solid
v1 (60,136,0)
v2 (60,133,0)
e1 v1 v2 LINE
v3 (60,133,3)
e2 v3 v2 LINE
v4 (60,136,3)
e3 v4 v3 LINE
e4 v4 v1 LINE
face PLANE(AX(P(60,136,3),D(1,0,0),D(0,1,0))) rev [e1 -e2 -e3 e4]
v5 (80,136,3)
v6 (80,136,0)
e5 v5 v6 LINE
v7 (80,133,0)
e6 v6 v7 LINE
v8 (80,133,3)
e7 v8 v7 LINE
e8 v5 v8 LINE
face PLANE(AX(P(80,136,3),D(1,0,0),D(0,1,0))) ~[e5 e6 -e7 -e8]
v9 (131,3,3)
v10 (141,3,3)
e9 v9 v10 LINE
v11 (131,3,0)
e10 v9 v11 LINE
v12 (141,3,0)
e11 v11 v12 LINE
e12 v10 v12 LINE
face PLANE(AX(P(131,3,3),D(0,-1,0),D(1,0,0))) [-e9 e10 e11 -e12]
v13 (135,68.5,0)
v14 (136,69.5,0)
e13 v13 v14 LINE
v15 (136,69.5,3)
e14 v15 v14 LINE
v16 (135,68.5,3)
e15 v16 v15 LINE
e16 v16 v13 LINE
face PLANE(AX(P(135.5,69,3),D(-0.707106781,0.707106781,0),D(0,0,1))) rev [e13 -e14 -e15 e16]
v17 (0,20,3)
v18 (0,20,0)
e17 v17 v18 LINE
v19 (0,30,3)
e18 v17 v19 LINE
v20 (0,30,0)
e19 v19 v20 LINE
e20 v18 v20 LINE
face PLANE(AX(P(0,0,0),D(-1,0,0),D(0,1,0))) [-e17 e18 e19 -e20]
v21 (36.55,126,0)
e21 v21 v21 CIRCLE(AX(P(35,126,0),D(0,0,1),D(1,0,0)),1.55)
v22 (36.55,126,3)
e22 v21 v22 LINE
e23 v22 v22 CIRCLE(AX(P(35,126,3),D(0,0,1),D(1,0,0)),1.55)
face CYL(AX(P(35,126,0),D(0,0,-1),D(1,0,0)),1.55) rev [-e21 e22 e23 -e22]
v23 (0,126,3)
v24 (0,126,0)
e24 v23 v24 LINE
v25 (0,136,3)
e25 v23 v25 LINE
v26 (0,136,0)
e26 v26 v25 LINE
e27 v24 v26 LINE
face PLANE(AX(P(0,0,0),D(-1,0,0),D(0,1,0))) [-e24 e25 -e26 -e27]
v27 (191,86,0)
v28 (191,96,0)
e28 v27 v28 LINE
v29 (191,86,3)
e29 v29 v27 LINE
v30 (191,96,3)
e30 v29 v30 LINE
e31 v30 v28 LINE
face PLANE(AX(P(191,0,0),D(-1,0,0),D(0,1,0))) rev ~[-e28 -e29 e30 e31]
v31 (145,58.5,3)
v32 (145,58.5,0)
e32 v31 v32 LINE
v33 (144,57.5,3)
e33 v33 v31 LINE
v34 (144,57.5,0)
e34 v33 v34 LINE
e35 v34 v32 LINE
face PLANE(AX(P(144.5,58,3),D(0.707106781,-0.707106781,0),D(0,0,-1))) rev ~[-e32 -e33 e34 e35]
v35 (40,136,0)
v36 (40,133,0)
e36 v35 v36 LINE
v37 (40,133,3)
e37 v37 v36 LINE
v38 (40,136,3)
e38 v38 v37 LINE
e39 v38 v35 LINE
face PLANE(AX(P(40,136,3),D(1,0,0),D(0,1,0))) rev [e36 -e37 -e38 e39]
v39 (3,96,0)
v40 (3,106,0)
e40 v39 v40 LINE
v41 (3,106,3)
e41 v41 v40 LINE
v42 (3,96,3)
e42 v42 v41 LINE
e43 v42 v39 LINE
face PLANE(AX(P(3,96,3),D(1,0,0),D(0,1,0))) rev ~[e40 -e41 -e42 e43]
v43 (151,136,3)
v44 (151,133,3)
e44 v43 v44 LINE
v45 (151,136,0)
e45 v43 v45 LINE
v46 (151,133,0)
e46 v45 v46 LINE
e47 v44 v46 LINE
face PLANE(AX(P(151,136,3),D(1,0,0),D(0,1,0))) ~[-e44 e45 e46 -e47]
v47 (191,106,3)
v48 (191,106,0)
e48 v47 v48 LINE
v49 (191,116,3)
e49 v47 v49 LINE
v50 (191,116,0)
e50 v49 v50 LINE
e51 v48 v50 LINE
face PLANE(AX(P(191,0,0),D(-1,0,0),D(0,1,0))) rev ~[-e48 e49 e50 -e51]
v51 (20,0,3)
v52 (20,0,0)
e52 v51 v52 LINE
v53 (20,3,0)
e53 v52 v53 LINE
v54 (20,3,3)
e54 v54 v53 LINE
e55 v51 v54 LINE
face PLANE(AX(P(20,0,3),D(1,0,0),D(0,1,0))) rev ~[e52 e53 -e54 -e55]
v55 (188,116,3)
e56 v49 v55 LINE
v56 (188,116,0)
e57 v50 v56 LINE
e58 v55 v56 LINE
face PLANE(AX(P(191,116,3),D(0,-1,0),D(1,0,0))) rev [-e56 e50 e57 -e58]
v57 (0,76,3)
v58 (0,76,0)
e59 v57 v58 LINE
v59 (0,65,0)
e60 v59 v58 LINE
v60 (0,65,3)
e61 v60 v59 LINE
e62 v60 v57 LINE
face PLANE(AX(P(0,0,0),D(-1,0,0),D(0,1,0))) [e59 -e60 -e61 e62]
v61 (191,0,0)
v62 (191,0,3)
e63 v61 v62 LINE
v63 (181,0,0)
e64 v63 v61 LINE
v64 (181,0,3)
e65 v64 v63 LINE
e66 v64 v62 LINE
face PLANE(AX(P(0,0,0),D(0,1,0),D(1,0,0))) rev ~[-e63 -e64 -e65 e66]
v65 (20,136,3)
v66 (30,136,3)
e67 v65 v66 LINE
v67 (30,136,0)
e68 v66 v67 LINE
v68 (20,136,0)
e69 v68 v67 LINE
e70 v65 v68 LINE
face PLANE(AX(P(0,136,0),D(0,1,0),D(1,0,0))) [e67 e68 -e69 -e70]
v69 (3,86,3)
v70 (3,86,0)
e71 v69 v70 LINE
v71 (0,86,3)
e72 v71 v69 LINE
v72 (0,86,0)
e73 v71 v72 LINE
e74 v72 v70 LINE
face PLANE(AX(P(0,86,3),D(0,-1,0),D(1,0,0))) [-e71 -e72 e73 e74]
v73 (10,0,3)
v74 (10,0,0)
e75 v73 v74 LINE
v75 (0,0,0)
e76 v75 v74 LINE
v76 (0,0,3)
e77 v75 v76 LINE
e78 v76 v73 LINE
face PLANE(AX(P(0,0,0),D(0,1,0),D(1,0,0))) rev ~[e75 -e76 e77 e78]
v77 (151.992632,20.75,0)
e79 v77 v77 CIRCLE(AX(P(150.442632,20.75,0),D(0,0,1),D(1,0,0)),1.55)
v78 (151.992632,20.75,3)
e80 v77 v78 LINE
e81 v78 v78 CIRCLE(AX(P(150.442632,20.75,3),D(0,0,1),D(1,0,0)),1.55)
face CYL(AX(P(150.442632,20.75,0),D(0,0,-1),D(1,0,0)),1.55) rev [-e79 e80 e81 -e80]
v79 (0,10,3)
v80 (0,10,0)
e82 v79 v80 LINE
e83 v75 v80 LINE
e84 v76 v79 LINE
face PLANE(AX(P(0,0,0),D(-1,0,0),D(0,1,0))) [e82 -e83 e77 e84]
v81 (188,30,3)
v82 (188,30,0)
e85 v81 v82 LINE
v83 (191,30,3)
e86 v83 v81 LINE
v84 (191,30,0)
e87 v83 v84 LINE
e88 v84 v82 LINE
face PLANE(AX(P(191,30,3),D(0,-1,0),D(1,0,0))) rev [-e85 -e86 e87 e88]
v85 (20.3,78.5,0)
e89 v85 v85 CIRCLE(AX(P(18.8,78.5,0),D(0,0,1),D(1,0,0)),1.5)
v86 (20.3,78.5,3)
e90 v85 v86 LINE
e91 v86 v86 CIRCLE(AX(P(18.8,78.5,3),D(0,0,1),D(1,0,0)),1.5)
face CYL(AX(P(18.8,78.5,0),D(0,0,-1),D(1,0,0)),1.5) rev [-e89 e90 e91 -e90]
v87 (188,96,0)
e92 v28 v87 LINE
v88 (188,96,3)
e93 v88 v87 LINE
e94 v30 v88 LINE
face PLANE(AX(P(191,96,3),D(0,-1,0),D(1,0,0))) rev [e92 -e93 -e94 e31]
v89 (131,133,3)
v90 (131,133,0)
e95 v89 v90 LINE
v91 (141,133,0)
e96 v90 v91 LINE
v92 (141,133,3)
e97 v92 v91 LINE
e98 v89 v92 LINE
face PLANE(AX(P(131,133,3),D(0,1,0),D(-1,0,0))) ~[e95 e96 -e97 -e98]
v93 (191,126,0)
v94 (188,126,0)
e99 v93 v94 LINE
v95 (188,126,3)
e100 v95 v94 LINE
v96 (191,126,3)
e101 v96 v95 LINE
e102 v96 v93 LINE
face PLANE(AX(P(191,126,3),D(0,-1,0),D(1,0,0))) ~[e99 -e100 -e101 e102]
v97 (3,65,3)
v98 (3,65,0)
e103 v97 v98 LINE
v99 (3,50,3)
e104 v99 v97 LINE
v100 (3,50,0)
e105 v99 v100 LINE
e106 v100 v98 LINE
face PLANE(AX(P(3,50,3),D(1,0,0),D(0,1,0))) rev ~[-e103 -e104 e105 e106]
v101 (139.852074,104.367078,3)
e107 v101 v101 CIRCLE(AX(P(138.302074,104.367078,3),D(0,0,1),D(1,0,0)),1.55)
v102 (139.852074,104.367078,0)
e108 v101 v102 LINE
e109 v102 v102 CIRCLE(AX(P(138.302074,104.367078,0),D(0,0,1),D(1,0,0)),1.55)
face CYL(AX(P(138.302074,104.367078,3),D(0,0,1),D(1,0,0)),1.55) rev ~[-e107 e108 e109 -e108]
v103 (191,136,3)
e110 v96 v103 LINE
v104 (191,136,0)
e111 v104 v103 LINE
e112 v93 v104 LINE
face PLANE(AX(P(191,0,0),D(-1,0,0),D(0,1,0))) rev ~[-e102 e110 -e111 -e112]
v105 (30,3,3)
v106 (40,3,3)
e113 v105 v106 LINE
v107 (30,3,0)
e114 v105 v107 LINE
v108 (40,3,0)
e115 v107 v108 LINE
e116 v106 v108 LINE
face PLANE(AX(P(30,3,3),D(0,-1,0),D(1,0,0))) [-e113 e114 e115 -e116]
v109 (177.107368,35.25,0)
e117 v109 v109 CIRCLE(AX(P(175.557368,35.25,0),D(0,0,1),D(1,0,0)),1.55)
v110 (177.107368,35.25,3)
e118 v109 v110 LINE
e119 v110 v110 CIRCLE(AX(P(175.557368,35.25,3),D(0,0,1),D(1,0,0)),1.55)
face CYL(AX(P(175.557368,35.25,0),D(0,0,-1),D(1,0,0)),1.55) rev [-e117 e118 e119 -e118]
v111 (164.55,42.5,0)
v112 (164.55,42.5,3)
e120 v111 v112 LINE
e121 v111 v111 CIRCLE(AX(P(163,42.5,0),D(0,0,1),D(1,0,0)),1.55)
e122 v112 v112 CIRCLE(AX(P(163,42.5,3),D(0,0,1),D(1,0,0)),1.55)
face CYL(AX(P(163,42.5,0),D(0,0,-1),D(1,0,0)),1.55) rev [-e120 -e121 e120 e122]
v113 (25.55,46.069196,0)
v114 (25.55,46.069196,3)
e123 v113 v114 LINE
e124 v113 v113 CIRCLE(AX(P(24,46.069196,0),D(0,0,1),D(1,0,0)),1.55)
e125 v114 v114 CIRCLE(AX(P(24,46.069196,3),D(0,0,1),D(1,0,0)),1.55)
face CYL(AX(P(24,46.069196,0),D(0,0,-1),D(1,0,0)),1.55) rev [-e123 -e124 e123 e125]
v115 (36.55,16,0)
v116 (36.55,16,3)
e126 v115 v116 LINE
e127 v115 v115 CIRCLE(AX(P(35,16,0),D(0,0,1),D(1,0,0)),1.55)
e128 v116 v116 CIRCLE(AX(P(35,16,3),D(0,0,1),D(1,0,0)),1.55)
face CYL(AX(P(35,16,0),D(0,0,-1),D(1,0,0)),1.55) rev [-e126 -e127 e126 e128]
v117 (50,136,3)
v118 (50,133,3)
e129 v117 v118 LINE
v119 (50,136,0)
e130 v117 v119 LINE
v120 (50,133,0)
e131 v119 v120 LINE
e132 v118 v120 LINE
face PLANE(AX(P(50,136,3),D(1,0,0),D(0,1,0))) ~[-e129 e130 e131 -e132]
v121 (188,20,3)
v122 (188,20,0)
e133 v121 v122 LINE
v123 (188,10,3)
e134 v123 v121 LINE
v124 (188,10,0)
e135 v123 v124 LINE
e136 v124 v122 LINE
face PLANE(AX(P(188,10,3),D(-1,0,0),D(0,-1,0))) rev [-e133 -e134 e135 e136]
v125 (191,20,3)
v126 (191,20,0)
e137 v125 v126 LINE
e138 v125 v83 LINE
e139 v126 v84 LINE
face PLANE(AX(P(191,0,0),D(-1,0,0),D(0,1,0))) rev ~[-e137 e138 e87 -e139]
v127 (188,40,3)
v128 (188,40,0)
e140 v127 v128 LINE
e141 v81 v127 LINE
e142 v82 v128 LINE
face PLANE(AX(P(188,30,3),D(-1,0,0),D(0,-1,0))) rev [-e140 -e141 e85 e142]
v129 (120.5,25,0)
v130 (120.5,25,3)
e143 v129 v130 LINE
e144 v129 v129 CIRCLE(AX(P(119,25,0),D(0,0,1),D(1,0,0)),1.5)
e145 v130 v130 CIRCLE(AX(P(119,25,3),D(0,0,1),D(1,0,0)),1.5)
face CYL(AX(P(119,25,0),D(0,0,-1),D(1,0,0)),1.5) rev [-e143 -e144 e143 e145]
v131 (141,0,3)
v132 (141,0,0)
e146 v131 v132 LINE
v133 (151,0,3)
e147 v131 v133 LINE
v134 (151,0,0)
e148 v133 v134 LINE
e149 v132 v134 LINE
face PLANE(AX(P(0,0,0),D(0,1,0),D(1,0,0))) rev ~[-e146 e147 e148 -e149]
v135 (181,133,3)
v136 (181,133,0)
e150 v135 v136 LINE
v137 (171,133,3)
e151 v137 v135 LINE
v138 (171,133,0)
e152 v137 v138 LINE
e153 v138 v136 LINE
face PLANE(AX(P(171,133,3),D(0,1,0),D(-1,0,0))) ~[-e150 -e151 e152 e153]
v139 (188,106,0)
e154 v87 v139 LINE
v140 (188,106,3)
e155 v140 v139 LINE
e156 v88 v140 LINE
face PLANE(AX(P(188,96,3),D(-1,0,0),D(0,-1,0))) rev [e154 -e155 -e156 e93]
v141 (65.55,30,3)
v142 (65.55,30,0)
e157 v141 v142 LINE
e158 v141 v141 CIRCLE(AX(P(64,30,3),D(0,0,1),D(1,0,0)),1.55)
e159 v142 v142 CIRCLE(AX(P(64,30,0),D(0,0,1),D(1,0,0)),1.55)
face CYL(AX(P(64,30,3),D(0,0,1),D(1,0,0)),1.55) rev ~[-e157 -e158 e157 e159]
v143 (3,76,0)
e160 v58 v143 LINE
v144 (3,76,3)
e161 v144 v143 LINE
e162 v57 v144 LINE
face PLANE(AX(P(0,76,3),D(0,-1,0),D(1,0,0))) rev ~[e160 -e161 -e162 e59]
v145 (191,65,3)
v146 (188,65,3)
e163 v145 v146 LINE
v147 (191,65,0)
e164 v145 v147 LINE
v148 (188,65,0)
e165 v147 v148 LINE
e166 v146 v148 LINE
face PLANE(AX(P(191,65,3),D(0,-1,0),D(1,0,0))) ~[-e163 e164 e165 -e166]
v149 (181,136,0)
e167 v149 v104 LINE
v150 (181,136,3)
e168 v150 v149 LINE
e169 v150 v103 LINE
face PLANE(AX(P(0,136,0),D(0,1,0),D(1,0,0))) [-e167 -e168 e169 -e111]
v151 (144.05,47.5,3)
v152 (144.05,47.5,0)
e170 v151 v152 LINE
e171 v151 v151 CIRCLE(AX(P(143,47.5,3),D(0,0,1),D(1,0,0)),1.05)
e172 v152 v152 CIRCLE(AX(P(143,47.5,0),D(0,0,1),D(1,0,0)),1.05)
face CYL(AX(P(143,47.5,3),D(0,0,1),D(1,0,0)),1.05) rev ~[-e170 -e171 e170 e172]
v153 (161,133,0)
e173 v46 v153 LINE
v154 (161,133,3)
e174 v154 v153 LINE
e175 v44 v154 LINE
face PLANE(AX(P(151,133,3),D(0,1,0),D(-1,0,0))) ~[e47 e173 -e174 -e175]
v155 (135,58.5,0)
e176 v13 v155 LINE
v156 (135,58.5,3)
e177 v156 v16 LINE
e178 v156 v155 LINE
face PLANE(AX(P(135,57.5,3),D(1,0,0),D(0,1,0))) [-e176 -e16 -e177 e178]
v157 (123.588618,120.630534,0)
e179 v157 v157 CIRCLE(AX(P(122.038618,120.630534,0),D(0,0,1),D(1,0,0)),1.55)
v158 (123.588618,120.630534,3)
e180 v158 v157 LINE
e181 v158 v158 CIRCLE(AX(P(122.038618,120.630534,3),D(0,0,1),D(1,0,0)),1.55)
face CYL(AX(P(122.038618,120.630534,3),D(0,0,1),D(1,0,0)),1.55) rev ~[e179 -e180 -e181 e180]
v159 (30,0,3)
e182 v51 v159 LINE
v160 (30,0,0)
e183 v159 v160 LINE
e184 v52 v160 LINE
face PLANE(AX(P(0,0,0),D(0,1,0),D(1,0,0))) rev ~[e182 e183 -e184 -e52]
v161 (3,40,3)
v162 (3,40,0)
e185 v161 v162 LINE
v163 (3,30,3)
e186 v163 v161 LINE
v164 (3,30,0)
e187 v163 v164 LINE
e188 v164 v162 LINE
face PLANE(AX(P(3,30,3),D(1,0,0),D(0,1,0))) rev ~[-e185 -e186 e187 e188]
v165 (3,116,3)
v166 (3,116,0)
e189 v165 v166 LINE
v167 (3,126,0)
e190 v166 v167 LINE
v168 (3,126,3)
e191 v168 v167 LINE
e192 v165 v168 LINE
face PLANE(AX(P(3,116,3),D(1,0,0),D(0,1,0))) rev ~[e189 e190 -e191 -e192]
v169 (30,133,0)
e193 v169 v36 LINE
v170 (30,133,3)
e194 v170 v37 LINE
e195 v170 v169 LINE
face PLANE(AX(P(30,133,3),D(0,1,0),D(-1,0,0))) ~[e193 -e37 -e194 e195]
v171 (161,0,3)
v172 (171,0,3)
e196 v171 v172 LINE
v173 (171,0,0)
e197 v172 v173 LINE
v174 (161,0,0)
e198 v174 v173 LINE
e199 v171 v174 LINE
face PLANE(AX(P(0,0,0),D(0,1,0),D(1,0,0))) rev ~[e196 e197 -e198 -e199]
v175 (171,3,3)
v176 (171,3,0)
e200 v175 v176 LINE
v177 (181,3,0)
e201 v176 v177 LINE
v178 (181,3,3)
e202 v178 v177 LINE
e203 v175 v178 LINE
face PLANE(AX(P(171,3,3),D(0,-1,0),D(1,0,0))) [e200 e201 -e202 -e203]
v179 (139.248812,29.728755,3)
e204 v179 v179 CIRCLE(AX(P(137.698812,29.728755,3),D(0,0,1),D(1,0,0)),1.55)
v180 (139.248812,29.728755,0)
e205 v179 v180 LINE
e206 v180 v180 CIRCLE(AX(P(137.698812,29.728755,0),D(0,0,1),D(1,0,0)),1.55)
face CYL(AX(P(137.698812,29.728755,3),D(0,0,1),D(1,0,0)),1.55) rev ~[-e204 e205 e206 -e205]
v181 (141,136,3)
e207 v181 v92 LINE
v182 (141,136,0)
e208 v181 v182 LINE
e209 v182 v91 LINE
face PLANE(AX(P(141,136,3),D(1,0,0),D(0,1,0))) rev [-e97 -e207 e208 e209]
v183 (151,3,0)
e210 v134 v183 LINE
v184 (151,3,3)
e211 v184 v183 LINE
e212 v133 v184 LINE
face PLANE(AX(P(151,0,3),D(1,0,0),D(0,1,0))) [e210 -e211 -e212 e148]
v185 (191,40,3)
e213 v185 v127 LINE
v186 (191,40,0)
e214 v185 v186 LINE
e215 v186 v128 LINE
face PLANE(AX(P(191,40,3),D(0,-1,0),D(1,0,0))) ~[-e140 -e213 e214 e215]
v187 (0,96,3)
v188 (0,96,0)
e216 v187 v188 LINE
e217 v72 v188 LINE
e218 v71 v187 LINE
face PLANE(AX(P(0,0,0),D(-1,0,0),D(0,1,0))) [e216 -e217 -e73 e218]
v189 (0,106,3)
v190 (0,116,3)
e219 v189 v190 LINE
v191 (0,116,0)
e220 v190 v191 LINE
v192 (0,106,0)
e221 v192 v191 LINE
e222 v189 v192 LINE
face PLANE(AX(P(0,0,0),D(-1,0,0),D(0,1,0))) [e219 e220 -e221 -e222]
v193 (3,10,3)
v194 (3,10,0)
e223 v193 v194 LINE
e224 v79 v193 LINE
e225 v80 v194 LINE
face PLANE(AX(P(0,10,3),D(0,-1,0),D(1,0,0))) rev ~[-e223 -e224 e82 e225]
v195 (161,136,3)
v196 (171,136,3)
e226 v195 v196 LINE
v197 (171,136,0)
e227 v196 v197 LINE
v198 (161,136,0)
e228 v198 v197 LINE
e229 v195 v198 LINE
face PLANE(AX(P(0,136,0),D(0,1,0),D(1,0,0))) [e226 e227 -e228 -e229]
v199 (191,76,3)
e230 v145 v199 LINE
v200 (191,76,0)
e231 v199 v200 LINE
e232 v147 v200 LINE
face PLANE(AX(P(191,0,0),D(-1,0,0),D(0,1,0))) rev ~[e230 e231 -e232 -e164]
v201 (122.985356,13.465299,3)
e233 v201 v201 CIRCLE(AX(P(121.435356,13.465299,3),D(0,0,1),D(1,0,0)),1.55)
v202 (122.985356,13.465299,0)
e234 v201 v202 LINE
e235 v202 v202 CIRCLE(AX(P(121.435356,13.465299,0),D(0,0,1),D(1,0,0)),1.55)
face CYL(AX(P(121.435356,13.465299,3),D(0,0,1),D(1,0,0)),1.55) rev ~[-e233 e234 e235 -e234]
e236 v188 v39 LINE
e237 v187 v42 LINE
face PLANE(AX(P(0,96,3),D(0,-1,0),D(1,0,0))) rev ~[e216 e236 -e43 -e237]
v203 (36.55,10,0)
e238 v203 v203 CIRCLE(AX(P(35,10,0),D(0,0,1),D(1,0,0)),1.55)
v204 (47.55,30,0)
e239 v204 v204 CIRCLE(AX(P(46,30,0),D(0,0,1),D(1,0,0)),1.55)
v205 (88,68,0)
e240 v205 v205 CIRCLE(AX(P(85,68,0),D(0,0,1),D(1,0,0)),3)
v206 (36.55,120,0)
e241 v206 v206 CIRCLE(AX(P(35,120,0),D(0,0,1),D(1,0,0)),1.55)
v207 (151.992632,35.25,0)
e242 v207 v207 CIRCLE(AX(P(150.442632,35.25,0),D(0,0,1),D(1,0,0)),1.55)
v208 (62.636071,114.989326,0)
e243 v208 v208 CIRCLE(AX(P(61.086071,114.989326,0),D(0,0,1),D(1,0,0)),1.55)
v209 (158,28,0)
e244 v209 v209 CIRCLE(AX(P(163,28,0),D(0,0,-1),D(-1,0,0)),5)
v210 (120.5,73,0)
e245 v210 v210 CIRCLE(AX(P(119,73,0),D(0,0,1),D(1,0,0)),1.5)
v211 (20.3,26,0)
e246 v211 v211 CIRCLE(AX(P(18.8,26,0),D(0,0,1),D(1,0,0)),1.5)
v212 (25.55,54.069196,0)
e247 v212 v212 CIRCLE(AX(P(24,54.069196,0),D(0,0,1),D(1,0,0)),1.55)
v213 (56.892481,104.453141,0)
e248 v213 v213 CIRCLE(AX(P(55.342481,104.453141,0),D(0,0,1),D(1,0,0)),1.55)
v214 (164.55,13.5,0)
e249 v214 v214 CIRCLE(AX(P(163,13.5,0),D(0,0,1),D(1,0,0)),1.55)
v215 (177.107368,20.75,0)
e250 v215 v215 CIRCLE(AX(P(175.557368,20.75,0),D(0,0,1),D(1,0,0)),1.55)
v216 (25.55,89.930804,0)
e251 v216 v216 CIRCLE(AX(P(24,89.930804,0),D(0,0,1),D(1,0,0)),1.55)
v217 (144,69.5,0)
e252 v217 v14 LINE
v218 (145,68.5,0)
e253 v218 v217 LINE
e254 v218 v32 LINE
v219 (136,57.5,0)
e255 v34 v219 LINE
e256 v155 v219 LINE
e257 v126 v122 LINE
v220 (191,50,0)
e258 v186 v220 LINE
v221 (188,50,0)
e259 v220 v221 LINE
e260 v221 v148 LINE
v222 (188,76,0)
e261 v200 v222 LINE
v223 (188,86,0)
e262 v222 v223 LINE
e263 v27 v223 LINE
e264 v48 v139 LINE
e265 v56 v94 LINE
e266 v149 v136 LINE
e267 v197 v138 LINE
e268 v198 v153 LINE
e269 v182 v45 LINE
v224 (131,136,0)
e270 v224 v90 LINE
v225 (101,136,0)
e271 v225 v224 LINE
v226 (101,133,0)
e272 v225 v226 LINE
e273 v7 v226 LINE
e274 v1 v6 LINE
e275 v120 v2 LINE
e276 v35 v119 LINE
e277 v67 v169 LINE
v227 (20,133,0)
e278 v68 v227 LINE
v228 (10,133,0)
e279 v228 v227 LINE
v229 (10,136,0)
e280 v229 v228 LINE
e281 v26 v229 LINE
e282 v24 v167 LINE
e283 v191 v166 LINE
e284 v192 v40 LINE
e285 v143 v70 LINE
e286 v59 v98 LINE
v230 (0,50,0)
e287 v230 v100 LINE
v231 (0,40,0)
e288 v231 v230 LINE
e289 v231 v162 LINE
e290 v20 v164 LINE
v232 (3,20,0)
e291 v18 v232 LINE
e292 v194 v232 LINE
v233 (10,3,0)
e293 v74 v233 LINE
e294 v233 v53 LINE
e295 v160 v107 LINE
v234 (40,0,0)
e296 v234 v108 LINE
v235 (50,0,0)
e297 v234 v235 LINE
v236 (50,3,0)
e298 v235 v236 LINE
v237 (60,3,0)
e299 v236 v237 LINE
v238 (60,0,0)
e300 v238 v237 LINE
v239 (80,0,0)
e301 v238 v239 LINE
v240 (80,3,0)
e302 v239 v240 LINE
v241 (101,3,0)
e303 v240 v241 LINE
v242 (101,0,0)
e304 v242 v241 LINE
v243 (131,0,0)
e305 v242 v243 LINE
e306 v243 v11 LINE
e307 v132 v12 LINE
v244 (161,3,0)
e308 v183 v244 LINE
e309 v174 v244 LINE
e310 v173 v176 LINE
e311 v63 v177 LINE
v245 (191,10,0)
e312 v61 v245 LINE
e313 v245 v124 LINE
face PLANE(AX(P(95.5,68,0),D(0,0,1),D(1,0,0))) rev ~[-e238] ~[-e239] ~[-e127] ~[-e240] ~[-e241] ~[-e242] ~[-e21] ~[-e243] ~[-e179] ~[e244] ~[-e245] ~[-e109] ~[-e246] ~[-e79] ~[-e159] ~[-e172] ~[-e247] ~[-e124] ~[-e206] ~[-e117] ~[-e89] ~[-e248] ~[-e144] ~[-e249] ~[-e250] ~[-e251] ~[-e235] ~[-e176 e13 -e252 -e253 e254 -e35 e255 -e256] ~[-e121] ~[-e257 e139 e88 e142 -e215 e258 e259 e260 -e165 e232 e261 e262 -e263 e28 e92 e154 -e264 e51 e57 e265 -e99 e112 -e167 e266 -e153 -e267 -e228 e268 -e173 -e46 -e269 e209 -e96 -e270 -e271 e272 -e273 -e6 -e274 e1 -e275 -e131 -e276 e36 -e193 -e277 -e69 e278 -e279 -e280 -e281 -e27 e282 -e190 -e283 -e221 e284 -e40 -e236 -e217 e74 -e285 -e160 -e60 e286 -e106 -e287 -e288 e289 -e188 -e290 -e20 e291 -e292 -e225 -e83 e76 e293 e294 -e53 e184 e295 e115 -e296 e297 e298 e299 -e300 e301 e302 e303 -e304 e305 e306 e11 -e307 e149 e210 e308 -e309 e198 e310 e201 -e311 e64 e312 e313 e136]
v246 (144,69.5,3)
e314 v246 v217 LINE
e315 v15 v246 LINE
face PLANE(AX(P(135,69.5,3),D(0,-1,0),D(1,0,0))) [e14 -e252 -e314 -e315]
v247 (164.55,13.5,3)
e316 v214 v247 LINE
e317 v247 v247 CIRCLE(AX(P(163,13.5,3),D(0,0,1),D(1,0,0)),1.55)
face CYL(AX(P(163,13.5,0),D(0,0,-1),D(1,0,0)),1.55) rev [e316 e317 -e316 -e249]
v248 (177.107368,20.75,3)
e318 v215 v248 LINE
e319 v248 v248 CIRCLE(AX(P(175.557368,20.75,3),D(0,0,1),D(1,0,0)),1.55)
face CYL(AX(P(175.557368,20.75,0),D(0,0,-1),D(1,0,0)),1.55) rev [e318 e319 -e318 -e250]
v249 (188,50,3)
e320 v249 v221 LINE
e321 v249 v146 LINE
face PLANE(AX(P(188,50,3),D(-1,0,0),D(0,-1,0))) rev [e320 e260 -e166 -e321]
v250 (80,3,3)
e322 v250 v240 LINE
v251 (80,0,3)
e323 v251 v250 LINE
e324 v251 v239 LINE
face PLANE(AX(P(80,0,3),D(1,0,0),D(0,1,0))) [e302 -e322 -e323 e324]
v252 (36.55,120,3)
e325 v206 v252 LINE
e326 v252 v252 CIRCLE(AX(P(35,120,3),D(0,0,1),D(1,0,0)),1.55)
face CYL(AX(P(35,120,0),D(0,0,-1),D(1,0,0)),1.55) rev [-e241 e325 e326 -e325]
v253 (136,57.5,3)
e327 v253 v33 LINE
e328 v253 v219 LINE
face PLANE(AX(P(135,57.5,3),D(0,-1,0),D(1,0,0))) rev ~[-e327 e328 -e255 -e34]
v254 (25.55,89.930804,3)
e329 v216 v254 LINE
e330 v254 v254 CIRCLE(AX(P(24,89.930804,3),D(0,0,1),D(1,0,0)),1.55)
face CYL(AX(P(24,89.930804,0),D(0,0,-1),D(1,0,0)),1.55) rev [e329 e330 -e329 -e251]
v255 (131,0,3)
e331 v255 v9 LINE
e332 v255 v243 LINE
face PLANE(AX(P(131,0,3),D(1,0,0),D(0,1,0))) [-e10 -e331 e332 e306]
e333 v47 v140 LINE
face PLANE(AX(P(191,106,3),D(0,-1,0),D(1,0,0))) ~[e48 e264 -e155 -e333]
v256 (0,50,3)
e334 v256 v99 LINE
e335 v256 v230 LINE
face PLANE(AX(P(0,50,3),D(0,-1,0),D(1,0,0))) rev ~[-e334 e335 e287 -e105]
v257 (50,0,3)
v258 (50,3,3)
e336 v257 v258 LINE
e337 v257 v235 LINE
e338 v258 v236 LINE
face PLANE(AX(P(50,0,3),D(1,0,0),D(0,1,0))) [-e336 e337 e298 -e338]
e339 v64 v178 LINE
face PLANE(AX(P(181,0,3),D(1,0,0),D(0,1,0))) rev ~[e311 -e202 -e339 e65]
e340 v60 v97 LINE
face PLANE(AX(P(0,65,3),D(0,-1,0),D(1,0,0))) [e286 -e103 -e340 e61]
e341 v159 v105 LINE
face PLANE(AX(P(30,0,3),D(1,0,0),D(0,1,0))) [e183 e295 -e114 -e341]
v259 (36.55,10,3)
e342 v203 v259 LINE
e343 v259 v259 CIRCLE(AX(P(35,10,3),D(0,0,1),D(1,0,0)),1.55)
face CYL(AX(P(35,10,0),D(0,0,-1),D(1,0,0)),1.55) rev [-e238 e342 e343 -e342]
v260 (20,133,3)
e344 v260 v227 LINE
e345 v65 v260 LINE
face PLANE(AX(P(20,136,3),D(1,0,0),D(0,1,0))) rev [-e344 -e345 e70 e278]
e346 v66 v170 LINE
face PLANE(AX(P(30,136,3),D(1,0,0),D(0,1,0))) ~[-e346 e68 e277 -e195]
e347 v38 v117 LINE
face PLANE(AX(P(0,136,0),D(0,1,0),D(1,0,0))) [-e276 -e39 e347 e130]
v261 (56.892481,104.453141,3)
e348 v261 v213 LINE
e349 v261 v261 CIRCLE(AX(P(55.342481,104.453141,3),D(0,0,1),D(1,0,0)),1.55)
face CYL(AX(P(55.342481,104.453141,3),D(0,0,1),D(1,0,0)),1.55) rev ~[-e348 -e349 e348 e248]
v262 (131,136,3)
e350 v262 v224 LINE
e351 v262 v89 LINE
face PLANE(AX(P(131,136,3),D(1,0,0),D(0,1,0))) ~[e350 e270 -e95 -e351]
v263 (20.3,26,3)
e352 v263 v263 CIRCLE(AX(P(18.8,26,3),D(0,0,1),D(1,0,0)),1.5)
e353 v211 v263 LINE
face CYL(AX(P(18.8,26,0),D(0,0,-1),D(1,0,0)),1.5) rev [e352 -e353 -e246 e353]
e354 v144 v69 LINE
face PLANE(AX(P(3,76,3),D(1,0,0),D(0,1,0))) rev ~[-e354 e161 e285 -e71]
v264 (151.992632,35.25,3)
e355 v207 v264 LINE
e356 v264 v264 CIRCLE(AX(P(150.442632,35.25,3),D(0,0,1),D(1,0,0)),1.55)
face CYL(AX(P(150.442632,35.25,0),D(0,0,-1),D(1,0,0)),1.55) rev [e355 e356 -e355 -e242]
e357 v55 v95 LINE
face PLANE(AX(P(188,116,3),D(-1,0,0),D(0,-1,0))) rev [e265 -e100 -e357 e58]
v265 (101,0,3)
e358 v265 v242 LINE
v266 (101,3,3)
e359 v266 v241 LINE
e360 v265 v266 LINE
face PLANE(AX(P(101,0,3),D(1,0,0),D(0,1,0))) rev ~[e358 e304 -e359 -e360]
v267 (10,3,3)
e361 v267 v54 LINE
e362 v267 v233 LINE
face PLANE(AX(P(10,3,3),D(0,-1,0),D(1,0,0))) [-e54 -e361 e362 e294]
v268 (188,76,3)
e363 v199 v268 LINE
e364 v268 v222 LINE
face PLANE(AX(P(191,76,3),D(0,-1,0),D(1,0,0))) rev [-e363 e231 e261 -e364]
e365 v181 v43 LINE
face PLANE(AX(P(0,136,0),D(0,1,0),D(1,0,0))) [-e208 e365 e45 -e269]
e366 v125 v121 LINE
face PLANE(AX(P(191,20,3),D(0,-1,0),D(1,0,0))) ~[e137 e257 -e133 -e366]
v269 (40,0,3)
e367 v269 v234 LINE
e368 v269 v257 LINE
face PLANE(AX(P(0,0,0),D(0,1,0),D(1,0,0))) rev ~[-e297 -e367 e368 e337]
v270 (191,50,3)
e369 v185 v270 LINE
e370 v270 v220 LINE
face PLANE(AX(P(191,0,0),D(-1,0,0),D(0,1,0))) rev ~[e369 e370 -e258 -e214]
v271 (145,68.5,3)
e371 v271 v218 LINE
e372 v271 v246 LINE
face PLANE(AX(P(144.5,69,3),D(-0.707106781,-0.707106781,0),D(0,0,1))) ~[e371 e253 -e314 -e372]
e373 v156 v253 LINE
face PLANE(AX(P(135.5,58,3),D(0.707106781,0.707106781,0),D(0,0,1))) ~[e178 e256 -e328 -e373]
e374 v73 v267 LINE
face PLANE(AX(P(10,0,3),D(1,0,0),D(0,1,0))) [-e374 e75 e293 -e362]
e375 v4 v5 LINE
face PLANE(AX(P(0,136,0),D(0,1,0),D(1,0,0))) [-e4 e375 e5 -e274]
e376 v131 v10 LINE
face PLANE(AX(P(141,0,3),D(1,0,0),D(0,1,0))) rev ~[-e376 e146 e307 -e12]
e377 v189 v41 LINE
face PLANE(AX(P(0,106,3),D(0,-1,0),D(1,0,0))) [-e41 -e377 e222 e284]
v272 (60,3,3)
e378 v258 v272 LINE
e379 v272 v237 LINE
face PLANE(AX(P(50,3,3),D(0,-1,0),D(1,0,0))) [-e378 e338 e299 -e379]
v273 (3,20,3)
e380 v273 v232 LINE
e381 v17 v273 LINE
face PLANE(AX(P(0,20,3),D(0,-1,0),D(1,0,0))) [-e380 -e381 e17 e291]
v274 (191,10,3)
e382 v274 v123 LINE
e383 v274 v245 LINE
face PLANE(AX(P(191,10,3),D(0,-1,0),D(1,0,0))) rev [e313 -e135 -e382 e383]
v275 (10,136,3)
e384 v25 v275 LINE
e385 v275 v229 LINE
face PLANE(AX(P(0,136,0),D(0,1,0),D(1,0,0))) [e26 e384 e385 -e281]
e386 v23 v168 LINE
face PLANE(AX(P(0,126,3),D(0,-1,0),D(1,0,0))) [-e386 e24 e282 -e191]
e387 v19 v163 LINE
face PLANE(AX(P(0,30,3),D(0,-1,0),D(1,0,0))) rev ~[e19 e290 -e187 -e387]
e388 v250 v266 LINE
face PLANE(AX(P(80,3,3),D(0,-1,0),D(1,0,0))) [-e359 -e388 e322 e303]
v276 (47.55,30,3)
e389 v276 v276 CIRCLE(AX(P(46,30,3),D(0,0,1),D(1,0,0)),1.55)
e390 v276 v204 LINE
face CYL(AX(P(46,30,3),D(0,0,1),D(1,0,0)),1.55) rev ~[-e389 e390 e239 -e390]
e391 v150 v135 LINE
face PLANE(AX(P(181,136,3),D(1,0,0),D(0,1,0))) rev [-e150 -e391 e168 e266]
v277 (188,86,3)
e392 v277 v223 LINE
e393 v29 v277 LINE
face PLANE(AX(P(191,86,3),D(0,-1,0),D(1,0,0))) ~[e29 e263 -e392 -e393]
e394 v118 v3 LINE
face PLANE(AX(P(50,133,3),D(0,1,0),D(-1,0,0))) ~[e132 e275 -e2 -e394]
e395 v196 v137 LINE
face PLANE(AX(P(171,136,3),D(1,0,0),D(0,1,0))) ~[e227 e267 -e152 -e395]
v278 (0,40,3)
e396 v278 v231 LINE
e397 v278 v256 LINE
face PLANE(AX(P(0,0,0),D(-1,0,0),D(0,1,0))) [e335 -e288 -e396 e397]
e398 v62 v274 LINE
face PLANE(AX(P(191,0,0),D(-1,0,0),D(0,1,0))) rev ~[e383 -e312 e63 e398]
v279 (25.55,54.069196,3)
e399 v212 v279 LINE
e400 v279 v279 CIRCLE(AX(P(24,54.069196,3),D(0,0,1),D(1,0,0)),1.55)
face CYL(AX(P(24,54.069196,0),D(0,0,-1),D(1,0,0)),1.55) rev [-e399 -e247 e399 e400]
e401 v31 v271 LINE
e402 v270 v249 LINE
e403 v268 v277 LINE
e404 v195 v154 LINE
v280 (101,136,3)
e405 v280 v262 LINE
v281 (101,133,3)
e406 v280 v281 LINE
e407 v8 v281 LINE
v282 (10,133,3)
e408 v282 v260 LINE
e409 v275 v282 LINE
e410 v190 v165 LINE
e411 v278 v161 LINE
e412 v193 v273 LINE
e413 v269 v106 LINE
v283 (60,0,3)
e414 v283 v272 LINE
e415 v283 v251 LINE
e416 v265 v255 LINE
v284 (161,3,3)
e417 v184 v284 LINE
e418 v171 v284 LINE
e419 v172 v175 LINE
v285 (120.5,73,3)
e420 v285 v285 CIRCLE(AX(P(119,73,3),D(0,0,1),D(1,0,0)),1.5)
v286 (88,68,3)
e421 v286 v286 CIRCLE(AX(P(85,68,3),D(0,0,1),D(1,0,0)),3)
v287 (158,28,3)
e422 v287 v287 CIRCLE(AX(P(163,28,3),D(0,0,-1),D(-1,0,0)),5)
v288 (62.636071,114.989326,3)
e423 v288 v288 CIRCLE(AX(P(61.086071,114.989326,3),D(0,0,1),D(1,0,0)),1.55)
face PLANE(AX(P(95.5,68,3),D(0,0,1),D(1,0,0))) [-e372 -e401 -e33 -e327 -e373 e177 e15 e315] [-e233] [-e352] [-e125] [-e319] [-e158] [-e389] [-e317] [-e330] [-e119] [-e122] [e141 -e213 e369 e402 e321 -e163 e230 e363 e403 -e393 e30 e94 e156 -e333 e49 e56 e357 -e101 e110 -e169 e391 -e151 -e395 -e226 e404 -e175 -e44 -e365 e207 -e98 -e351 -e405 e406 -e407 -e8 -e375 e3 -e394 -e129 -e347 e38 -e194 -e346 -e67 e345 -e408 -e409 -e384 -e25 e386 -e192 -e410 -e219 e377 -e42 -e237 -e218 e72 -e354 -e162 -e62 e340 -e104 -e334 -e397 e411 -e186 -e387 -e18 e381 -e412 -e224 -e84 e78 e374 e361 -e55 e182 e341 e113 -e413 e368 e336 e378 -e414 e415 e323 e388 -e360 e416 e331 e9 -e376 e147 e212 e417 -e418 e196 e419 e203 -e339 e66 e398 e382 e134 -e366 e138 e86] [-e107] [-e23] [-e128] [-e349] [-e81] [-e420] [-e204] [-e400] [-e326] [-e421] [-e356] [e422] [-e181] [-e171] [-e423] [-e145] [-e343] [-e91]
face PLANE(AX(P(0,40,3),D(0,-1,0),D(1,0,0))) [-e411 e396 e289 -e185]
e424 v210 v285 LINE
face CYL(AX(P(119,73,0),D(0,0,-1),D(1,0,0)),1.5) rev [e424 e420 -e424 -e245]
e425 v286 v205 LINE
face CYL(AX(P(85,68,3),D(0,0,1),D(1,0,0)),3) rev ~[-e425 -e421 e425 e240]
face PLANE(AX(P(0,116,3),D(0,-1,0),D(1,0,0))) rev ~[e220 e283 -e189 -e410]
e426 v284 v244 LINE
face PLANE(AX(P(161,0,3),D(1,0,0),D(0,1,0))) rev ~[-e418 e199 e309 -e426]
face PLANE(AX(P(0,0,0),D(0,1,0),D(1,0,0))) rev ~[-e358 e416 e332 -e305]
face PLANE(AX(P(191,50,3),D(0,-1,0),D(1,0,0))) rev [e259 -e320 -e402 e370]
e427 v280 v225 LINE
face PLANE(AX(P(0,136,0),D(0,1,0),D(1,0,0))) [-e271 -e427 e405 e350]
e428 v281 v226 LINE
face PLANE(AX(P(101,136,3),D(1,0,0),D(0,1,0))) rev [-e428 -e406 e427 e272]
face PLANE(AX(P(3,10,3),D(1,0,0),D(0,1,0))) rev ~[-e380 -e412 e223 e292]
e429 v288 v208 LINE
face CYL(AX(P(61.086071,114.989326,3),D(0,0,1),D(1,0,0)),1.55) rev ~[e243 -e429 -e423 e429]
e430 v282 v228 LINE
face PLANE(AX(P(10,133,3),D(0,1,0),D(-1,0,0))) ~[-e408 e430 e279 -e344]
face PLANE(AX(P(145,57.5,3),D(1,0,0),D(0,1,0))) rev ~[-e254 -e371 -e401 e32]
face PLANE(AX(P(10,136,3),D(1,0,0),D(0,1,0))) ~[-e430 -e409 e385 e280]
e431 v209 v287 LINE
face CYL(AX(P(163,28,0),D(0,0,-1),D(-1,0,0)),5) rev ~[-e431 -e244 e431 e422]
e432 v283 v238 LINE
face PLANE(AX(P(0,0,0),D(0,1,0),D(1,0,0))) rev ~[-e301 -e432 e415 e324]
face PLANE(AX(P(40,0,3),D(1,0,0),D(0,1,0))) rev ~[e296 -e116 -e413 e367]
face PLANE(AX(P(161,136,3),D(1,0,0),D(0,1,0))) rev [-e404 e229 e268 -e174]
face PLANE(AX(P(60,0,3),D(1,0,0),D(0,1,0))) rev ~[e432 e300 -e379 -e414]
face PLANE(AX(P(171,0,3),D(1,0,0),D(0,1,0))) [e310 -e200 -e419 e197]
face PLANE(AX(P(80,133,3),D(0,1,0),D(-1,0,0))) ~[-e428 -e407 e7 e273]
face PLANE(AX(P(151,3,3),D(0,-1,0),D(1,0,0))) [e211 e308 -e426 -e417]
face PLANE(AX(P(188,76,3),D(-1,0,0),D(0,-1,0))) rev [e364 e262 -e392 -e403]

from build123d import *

# Parameters (mm, degrees)
SKETCH2_W           = 191
SKETCH2_H           = 136
SKETCH2_R           = 1.55
SKETCH2_R_2         = 1.549999948
SKETCH2_R_3         = 1.5
BOSS_EXTRUDE1_DEPTH = 3
CUT_EXTRUDE1_REACH  = 236.491
SKETCH3_W           = 10
SKETCH3_H           = 3
SKETCH3_W_2         = 21
CUT_EXTRUDE2_REACH  = 236.491
SKETCH4_W           = 3
SKETCH4_H           = 10
SKETCH4_H_2         = 15
CUT_EXTRUDE3_REACH  = 236.491
SKETCH8_R           = 5
CUT_EXTRUDE4_REACH  = 236.491
SKETCH9_R           = 3
CUT_EXTRUDE5_REACH  = 236.491
SKETCH10_R          = 1.55
CUT_EXTRUDE6_REACH  = 236.491
SKETCH11_R          = 1.05
SKETCH11_W          = 10
SKETCH11_H          = 12
CHAMFER1_SIZE       = 1


with BuildPart() as part:
    # Sketch2 → Boss-Extrude1 (new body)
    with BuildSketch(Plane.XY):
        with Locations((95.5, 68)):
            Rectangle(SKETCH2_W, SKETCH2_H)
        with Locations((35, 16)):
            Circle(SKETCH2_R, mode=Mode.SUBTRACT)
        with Locations((35, 10)):
            Circle(SKETCH2_R, mode=Mode.SUBTRACT)
        with Locations((24, 46.069195574)):
            Circle(SKETCH2_R, mode=Mode.SUBTRACT)
        with Locations((24, 54.069195574)):
            Circle(SKETCH2_R, mode=Mode.SUBTRACT)
        with Locations((24, 89.930804426)):
            Circle(SKETCH2_R, mode=Mode.SUBTRACT)
        with Locations((35, 120)):
            Circle(SKETCH2_R, mode=Mode.SUBTRACT)
        with Locations((35, 126)):
            Circle(SKETCH2_R, mode=Mode.SUBTRACT)
        with Locations((175.557368355, 35.25)):
            Circle(SKETCH2_R_2, mode=Mode.SUBTRACT)
        with Locations((163, 42.5)):
            Circle(SKETCH2_R_2, mode=Mode.SUBTRACT)
        with Locations((150.442631645, 35.25)):
            Circle(SKETCH2_R_2, mode=Mode.SUBTRACT)
        with Locations((150.442631645, 20.75)):
            Circle(SKETCH2_R_2, mode=Mode.SUBTRACT)
        with Locations((163, 13.5)):
            Circle(SKETCH2_R_2, mode=Mode.SUBTRACT)
        with Locations((175.557368355, 20.75)):
            Circle(SKETCH2_R_2, mode=Mode.SUBTRACT)
        with Locations((18.8, 78.5)):
            Circle(SKETCH2_R_3, mode=Mode.SUBTRACT)
        with Locations((18.8, 26)):
            Circle(SKETCH2_R_3, mode=Mode.SUBTRACT)
        with Locations((119, 73)):
            Circle(SKETCH2_R_3, mode=Mode.SUBTRACT)
        with Locations((119, 25)):
            Circle(SKETCH2_R_3, mode=Mode.SUBTRACT)
    extrude(amount=BOSS_EXTRUDE1_DEPTH)

    # Sketch3 → Cut-Extrude1 (cut, up to next)
    with BuildSketch(Plane.XY.offset(3), mode=Mode.PRIVATE) as cut_extrude1_sk1:
        with Locations((176, 1.5)):
            Rectangle(SKETCH3_W, SKETCH3_H)
    cut_extrude1_tool1 = extrude(cut_extrude1_sk1.sketch, amount=-CUT_EXTRUDE1_REACH, mode=Mode.PRIVATE) & part.part
    # Sketch3 → Cut-Extrude1 (cut, up to next)
    with BuildSketch(Plane.XY.offset(3), mode=Mode.PRIVATE) as cut_extrude1_sk2:
        with Locations((156, 1.5)):
            Rectangle(SKETCH3_W, SKETCH3_H)
    cut_extrude1_tool2 = extrude(cut_extrude1_sk2.sketch, amount=-CUT_EXTRUDE1_REACH, mode=Mode.PRIVATE) & part.part
    # Sketch3 → Cut-Extrude1 (cut, up to next)
    with BuildSketch(Plane.XY.offset(3), mode=Mode.PRIVATE) as cut_extrude1_sk3:
        with Locations((136, 1.5)):
            Rectangle(SKETCH3_W, SKETCH3_H)
    cut_extrude1_tool3 = extrude(cut_extrude1_sk3.sketch, amount=-CUT_EXTRUDE1_REACH, mode=Mode.PRIVATE) & part.part
    # Sketch3 → Cut-Extrude1 (cut, up to next)
    with BuildSketch(Plane.XY.offset(3), mode=Mode.PRIVATE) as cut_extrude1_sk4:
        with Locations((90.5, 1.5)):
            Rectangle(SKETCH3_W_2, SKETCH3_H)
    cut_extrude1_tool4 = extrude(cut_extrude1_sk4.sketch, amount=-CUT_EXTRUDE1_REACH, mode=Mode.PRIVATE) & part.part
    # Sketch3 → Cut-Extrude1 (cut, up to next)
    with BuildSketch(Plane.XY.offset(3), mode=Mode.PRIVATE) as cut_extrude1_sk5:
        with Locations((55, 1.5)):
            Rectangle(SKETCH3_W, SKETCH3_H)
    cut_extrude1_tool5 = extrude(cut_extrude1_sk5.sketch, amount=-CUT_EXTRUDE1_REACH, mode=Mode.PRIVATE) & part.part
    # Sketch3 → Cut-Extrude1 (cut, up to next)
    with BuildSketch(Plane.XY.offset(3), mode=Mode.PRIVATE) as cut_extrude1_sk6:
        with Locations((35, 1.5)):
            Rectangle(SKETCH3_W, SKETCH3_H)
    cut_extrude1_tool6 = extrude(cut_extrude1_sk6.sketch, amount=-CUT_EXTRUDE1_REACH, mode=Mode.PRIVATE) & part.part
    # Sketch3 → Cut-Extrude1 (cut, up to next)
    with BuildSketch(Plane.XY.offset(3), mode=Mode.PRIVATE) as cut_extrude1_sk7:
        with Locations((15, 1.5)):
            Rectangle(SKETCH3_W, SKETCH3_H)
    cut_extrude1_tool7 = extrude(cut_extrude1_sk7.sketch, amount=-CUT_EXTRUDE1_REACH, mode=Mode.PRIVATE) & part.part
    cut_extrude1_1 = cut_extrude1_tool1.solids().sort_by_distance((176, 1.5, 3))[0]
    add(cut_extrude1_1, mode=Mode.SUBTRACT)
    cut_extrude1_2 = cut_extrude1_tool2.solids().sort_by_distance((156, 1.5, 3))[0]
    add(cut_extrude1_2, mode=Mode.SUBTRACT)
    cut_extrude1_3 = cut_extrude1_tool3.solids().sort_by_distance((136, 1.5, 3))[0]
    add(cut_extrude1_3, mode=Mode.SUBTRACT)
    cut_extrude1_4 = cut_extrude1_tool4.solids().sort_by_distance((90.5, 1.5, 3))[0]
    add(cut_extrude1_4, mode=Mode.SUBTRACT)
    cut_extrude1_5 = cut_extrude1_tool5.solids().sort_by_distance((55, 1.5, 3))[0]
    add(cut_extrude1_5, mode=Mode.SUBTRACT)
    cut_extrude1_6 = cut_extrude1_tool6.solids().sort_by_distance((35, 1.5, 3))[0]
    add(cut_extrude1_6, mode=Mode.SUBTRACT)
    cut_extrude1_7 = cut_extrude1_tool7.solids().sort_by_distance((15, 1.5, 3))[0]
    add(cut_extrude1_7, mode=Mode.SUBTRACT)
    cut_extrude1 = cut_extrude1_1 + cut_extrude1_2 + cut_extrude1_3 + cut_extrude1_4 + cut_extrude1_5 + cut_extrude1_6 + cut_extrude1_7  # Cut-Extrude1 as one shape, for the pattern or mirror that repeats it

    # Mirror1: Cut-Extrude1 across plane
    add(cut_extrude1.mirror(Plane.ZX.offset(68)), mode=Mode.SUBTRACT)

    # Sketch4 → Cut-Extrude2 (cut, up to next)
    with BuildSketch(Plane.XY.offset(3), mode=Mode.PRIVATE) as cut_extrude2_sk1:
        with Locations((1.5, 121)):
            Rectangle(SKETCH4_W, SKETCH4_H)
    cut_extrude2_tool1 = extrude(cut_extrude2_sk1.sketch, amount=-CUT_EXTRUDE2_REACH, mode=Mode.PRIVATE) & part.part
    # Sketch4 → Cut-Extrude2 (cut, up to next)
    with BuildSketch(Plane.XY.offset(3), mode=Mode.PRIVATE) as cut_extrude2_sk2:
        with Locations((1.5, 101)):
            Rectangle(SKETCH4_W, SKETCH4_H)
    cut_extrude2_tool2 = extrude(cut_extrude2_sk2.sketch, amount=-CUT_EXTRUDE2_REACH, mode=Mode.PRIVATE) & part.part
    # Sketch4 → Cut-Extrude2 (cut, up to next)
    with BuildSketch(Plane.XY.offset(3), mode=Mode.PRIVATE) as cut_extrude2_sk3:
        with Locations((1.5, 81)):
            Rectangle(SKETCH4_W, SKETCH4_H)
    cut_extrude2_tool3 = extrude(cut_extrude2_sk3.sketch, amount=-CUT_EXTRUDE2_REACH, mode=Mode.PRIVATE) & part.part
    # Sketch4 → Cut-Extrude2 (cut, up to next)
    with BuildSketch(Plane.XY.offset(3), mode=Mode.PRIVATE) as cut_extrude2_sk4:
        with Locations((1.5, 15)):
            Rectangle(SKETCH4_W, SKETCH4_H)
    cut_extrude2_tool4 = extrude(cut_extrude2_sk4.sketch, amount=-CUT_EXTRUDE2_REACH, mode=Mode.PRIVATE) & part.part
    # Sketch4 → Cut-Extrude2 (cut, up to next)
    with BuildSketch(Plane.XY.offset(3), mode=Mode.PRIVATE) as cut_extrude2_sk5:
        with Locations((1.5, 35)):
            Rectangle(SKETCH4_W, SKETCH4_H)
    cut_extrude2_tool5 = extrude(cut_extrude2_sk5.sketch, amount=-CUT_EXTRUDE2_REACH, mode=Mode.PRIVATE) & part.part
    # Sketch4 → Cut-Extrude2 (cut, up to next)
    with BuildSketch(Plane.XY.offset(3), mode=Mode.PRIVATE) as cut_extrude2_sk6:
        with Locations((1.5, 57.5)):
            Rectangle(SKETCH4_W, SKETCH4_H_2)
    cut_extrude2_tool6 = extrude(cut_extrude2_sk6.sketch, amount=-CUT_EXTRUDE2_REACH, mode=Mode.PRIVATE) & part.part
    cut_extrude2_1 = cut_extrude2_tool1.solids().sort_by_distance((1.5, 121, 3))[0]
    add(cut_extrude2_1, mode=Mode.SUBTRACT)
    cut_extrude2_2 = cut_extrude2_tool2.solids().sort_by_distance((1.5, 101, 3))[0]
    add(cut_extrude2_2, mode=Mode.SUBTRACT)
    cut_extrude2_3 = cut_extrude2_tool3.solids().sort_by_distance((1.5, 81, 3))[0]
    add(cut_extrude2_3, mode=Mode.SUBTRACT)
    cut_extrude2_4 = cut_extrude2_tool4.solids().sort_by_distance((1.5, 15, 3))[0]
    add(cut_extrude2_4, mode=Mode.SUBTRACT)
    cut_extrude2_5 = cut_extrude2_tool5.solids().sort_by_distance((1.5, 35, 3))[0]
    add(cut_extrude2_5, mode=Mode.SUBTRACT)
    cut_extrude2_6 = cut_extrude2_tool6.solids().sort_by_distance((1.5, 57.5, 3))[0]
    add(cut_extrude2_6, mode=Mode.SUBTRACT)
    cut_extrude2 = cut_extrude2_1 + cut_extrude2_2 + cut_extrude2_3 + cut_extrude2_4 + cut_extrude2_5 + cut_extrude2_6  # Cut-Extrude2 as one shape, for the pattern or mirror that repeats it

    # Mirror2: Cut-Extrude2 across plane
    add(cut_extrude2.mirror(Plane(origin=(95.5, 0, 0), x_dir=(0, 0, 1), z_dir=(1, 0, 0))), mode=Mode.SUBTRACT)

    # Sketch8 → Cut-Extrude3 (cut, up to next)
    with BuildSketch(Plane(origin=(0, 0, 0), x_dir=(-1, 0, 0), z_dir=(0, 0, -1)), mode=Mode.PRIVATE) as cut_extrude3_sk1:
        with Locations((-163, 28)):
            Circle(SKETCH8_R)
    cut_extrude3_tool1 = extrude(cut_extrude3_sk1.sketch, amount=-CUT_EXTRUDE3_REACH, mode=Mode.PRIVATE) & part.part
    add(cut_extrude3_tool1.solids().sort_by_distance((163, 28, 0))[0], mode=Mode.SUBTRACT)

    # Sketch9 → Cut-Extrude4 (cut, up to next)
    with BuildSketch(Plane.XY.offset(3), mode=Mode.PRIVATE) as cut_extrude4_sk1:
        with Locations((85, 68)):
            Circle(SKETCH9_R)
    cut_extrude4_tool1 = extrude(cut_extrude4_sk1.sketch, amount=-CUT_EXTRUDE4_REACH, mode=Mode.PRIVATE) & part.part
    add(cut_extrude4_tool1.solids().sort_by_distance((85, 68, 3))[0], mode=Mode.SUBTRACT)

    # Sketch10 → Cut-Extrude5 (cut, up to next)
    with BuildSketch(Plane.XY.offset(3), mode=Mode.PRIVATE) as cut_extrude5_sk1:
        with Locations((61.086070947, 114.989325612)):
            Circle(SKETCH10_R)
    cut_extrude5_tool1 = extrude(cut_extrude5_sk1.sketch, amount=-CUT_EXTRUDE5_REACH, mode=Mode.PRIVATE) & part.part
    # Sketch10 → Cut-Extrude5 (cut, up to next)
    with BuildSketch(Plane.XY.offset(3), mode=Mode.PRIVATE) as cut_extrude5_sk2:
        with Locations((55.342481492, 104.453141285)):
            Circle(SKETCH10_R)
    cut_extrude5_tool2 = extrude(cut_extrude5_sk2.sketch, amount=-CUT_EXTRUDE5_REACH, mode=Mode.PRIVATE) & part.part
    # Sketch10 → Cut-Extrude5 (cut, up to next)
    with BuildSketch(Plane.XY.offset(3), mode=Mode.PRIVATE) as cut_extrude5_sk3:
        with Locations((138.302074071, 104.36707814)):
            Circle(SKETCH10_R)
    cut_extrude5_tool3 = extrude(cut_extrude5_sk3.sketch, amount=-CUT_EXTRUDE5_REACH, mode=Mode.PRIVATE) & part.part
    # Sketch10 → Cut-Extrude5 (cut, up to next)
    with BuildSketch(Plane.XY.offset(3), mode=Mode.PRIVATE) as cut_extrude5_sk4:
        with Locations((122.038618104, 120.630534107)):
            Circle(SKETCH10_R)
    cut_extrude5_tool4 = extrude(cut_extrude5_sk4.sketch, amount=-CUT_EXTRUDE5_REACH, mode=Mode.PRIVATE) & part.part
    # Sketch10 → Cut-Extrude5 (cut, up to next)
    with BuildSketch(Plane.XY.offset(3), mode=Mode.PRIVATE) as cut_extrude5_sk5:
        with Locations((64, 30)):
            Circle(SKETCH10_R)
    cut_extrude5_tool5 = extrude(cut_extrude5_sk5.sketch, amount=-CUT_EXTRUDE5_REACH, mode=Mode.PRIVATE) & part.part
    # Sketch10 → Cut-Extrude5 (cut, up to next)
    with BuildSketch(Plane.XY.offset(3), mode=Mode.PRIVATE) as cut_extrude5_sk6:
        with Locations((46, 30)):
            Circle(SKETCH10_R)
    cut_extrude5_tool6 = extrude(cut_extrude5_sk6.sketch, amount=-CUT_EXTRUDE5_REACH, mode=Mode.PRIVATE) & part.part
    # Sketch10 → Cut-Extrude5 (cut, up to next)
    with BuildSketch(Plane.XY.offset(3), mode=Mode.PRIVATE) as cut_extrude5_sk7:
        with Locations((137.698811825, 29.728755384)):
            Circle(SKETCH10_R)
    cut_extrude5_tool7 = extrude(cut_extrude5_sk7.sketch, amount=-CUT_EXTRUDE5_REACH, mode=Mode.PRIVATE) & part.part
    # Sketch10 → Cut-Extrude5 (cut, up to next)
    with BuildSketch(Plane.XY.offset(3), mode=Mode.PRIVATE) as cut_extrude5_sk8:
        with Locations((121.435355858, 13.465299417)):
            Circle(SKETCH10_R)
    cut_extrude5_tool8 = extrude(cut_extrude5_sk8.sketch, amount=-CUT_EXTRUDE5_REACH, mode=Mode.PRIVATE) & part.part
    add(cut_extrude5_tool1.solids().sort_by_distance((61.086071, 114.989326, 3))[0], mode=Mode.SUBTRACT)
    add(cut_extrude5_tool2.solids().sort_by_distance((55.342481, 104.453141, 3))[0], mode=Mode.SUBTRACT)
    add(cut_extrude5_tool3.solids().sort_by_distance((138.302074, 104.367078, 3))[0], mode=Mode.SUBTRACT)
    add(cut_extrude5_tool4.solids().sort_by_distance((122.038618, 120.630534, 3))[0], mode=Mode.SUBTRACT)
    add(cut_extrude5_tool5.solids().sort_by_distance((64, 30, 3))[0], mode=Mode.SUBTRACT)
    add(cut_extrude5_tool6.solids().sort_by_distance((46, 30, 3))[0], mode=Mode.SUBTRACT)
    add(cut_extrude5_tool7.solids().sort_by_distance((137.698812, 29.728755, 3))[0], mode=Mode.SUBTRACT)
    add(cut_extrude5_tool8.solids().sort_by_distance((121.435356, 13.465299, 3))[0], mode=Mode.SUBTRACT)

    # Sketch11 → Cut-Extrude6 (cut, up to next)
    with BuildSketch(Plane.XY.offset(3), mode=Mode.PRIVATE) as cut_extrude6_sk1:
        with Locations((143, 47.5)):
            Circle(SKETCH11_R)
    cut_extrude6_tool1 = extrude(cut_extrude6_sk1.sketch, amount=-CUT_EXTRUDE6_REACH, mode=Mode.PRIVATE) & part.part
    # Sketch11 → Cut-Extrude6 (cut, up to next)
    with BuildSketch(Plane.XY.offset(3), mode=Mode.PRIVATE) as cut_extrude6_sk2:
        with Locations((140, 63.5)):
            Rectangle(SKETCH11_W, SKETCH11_H)
    cut_extrude6_tool2 = extrude(cut_extrude6_sk2.sketch, amount=-CUT_EXTRUDE6_REACH, mode=Mode.PRIVATE) & part.part
    add(cut_extrude6_tool1.solids().sort_by_distance((143, 47.5, 3))[0], mode=Mode.SUBTRACT)
    add(cut_extrude6_tool2.solids().sort_by_distance((140, 63.5, 3))[0], mode=Mode.SUBTRACT)

    # Chamfer1
    chamfer1_edges = [part.edges().sort_by_distance(p)[0] for p in [
        (135, 69.5, 1.5),
        (145, 69.5, 1.5),
        (145, 57.5, 1.5),
        (135, 57.5, 1.5),
    ]]
    chamfer(chamfer1_edges, length=CHAMFER1_SIZE)


solid = part.part
